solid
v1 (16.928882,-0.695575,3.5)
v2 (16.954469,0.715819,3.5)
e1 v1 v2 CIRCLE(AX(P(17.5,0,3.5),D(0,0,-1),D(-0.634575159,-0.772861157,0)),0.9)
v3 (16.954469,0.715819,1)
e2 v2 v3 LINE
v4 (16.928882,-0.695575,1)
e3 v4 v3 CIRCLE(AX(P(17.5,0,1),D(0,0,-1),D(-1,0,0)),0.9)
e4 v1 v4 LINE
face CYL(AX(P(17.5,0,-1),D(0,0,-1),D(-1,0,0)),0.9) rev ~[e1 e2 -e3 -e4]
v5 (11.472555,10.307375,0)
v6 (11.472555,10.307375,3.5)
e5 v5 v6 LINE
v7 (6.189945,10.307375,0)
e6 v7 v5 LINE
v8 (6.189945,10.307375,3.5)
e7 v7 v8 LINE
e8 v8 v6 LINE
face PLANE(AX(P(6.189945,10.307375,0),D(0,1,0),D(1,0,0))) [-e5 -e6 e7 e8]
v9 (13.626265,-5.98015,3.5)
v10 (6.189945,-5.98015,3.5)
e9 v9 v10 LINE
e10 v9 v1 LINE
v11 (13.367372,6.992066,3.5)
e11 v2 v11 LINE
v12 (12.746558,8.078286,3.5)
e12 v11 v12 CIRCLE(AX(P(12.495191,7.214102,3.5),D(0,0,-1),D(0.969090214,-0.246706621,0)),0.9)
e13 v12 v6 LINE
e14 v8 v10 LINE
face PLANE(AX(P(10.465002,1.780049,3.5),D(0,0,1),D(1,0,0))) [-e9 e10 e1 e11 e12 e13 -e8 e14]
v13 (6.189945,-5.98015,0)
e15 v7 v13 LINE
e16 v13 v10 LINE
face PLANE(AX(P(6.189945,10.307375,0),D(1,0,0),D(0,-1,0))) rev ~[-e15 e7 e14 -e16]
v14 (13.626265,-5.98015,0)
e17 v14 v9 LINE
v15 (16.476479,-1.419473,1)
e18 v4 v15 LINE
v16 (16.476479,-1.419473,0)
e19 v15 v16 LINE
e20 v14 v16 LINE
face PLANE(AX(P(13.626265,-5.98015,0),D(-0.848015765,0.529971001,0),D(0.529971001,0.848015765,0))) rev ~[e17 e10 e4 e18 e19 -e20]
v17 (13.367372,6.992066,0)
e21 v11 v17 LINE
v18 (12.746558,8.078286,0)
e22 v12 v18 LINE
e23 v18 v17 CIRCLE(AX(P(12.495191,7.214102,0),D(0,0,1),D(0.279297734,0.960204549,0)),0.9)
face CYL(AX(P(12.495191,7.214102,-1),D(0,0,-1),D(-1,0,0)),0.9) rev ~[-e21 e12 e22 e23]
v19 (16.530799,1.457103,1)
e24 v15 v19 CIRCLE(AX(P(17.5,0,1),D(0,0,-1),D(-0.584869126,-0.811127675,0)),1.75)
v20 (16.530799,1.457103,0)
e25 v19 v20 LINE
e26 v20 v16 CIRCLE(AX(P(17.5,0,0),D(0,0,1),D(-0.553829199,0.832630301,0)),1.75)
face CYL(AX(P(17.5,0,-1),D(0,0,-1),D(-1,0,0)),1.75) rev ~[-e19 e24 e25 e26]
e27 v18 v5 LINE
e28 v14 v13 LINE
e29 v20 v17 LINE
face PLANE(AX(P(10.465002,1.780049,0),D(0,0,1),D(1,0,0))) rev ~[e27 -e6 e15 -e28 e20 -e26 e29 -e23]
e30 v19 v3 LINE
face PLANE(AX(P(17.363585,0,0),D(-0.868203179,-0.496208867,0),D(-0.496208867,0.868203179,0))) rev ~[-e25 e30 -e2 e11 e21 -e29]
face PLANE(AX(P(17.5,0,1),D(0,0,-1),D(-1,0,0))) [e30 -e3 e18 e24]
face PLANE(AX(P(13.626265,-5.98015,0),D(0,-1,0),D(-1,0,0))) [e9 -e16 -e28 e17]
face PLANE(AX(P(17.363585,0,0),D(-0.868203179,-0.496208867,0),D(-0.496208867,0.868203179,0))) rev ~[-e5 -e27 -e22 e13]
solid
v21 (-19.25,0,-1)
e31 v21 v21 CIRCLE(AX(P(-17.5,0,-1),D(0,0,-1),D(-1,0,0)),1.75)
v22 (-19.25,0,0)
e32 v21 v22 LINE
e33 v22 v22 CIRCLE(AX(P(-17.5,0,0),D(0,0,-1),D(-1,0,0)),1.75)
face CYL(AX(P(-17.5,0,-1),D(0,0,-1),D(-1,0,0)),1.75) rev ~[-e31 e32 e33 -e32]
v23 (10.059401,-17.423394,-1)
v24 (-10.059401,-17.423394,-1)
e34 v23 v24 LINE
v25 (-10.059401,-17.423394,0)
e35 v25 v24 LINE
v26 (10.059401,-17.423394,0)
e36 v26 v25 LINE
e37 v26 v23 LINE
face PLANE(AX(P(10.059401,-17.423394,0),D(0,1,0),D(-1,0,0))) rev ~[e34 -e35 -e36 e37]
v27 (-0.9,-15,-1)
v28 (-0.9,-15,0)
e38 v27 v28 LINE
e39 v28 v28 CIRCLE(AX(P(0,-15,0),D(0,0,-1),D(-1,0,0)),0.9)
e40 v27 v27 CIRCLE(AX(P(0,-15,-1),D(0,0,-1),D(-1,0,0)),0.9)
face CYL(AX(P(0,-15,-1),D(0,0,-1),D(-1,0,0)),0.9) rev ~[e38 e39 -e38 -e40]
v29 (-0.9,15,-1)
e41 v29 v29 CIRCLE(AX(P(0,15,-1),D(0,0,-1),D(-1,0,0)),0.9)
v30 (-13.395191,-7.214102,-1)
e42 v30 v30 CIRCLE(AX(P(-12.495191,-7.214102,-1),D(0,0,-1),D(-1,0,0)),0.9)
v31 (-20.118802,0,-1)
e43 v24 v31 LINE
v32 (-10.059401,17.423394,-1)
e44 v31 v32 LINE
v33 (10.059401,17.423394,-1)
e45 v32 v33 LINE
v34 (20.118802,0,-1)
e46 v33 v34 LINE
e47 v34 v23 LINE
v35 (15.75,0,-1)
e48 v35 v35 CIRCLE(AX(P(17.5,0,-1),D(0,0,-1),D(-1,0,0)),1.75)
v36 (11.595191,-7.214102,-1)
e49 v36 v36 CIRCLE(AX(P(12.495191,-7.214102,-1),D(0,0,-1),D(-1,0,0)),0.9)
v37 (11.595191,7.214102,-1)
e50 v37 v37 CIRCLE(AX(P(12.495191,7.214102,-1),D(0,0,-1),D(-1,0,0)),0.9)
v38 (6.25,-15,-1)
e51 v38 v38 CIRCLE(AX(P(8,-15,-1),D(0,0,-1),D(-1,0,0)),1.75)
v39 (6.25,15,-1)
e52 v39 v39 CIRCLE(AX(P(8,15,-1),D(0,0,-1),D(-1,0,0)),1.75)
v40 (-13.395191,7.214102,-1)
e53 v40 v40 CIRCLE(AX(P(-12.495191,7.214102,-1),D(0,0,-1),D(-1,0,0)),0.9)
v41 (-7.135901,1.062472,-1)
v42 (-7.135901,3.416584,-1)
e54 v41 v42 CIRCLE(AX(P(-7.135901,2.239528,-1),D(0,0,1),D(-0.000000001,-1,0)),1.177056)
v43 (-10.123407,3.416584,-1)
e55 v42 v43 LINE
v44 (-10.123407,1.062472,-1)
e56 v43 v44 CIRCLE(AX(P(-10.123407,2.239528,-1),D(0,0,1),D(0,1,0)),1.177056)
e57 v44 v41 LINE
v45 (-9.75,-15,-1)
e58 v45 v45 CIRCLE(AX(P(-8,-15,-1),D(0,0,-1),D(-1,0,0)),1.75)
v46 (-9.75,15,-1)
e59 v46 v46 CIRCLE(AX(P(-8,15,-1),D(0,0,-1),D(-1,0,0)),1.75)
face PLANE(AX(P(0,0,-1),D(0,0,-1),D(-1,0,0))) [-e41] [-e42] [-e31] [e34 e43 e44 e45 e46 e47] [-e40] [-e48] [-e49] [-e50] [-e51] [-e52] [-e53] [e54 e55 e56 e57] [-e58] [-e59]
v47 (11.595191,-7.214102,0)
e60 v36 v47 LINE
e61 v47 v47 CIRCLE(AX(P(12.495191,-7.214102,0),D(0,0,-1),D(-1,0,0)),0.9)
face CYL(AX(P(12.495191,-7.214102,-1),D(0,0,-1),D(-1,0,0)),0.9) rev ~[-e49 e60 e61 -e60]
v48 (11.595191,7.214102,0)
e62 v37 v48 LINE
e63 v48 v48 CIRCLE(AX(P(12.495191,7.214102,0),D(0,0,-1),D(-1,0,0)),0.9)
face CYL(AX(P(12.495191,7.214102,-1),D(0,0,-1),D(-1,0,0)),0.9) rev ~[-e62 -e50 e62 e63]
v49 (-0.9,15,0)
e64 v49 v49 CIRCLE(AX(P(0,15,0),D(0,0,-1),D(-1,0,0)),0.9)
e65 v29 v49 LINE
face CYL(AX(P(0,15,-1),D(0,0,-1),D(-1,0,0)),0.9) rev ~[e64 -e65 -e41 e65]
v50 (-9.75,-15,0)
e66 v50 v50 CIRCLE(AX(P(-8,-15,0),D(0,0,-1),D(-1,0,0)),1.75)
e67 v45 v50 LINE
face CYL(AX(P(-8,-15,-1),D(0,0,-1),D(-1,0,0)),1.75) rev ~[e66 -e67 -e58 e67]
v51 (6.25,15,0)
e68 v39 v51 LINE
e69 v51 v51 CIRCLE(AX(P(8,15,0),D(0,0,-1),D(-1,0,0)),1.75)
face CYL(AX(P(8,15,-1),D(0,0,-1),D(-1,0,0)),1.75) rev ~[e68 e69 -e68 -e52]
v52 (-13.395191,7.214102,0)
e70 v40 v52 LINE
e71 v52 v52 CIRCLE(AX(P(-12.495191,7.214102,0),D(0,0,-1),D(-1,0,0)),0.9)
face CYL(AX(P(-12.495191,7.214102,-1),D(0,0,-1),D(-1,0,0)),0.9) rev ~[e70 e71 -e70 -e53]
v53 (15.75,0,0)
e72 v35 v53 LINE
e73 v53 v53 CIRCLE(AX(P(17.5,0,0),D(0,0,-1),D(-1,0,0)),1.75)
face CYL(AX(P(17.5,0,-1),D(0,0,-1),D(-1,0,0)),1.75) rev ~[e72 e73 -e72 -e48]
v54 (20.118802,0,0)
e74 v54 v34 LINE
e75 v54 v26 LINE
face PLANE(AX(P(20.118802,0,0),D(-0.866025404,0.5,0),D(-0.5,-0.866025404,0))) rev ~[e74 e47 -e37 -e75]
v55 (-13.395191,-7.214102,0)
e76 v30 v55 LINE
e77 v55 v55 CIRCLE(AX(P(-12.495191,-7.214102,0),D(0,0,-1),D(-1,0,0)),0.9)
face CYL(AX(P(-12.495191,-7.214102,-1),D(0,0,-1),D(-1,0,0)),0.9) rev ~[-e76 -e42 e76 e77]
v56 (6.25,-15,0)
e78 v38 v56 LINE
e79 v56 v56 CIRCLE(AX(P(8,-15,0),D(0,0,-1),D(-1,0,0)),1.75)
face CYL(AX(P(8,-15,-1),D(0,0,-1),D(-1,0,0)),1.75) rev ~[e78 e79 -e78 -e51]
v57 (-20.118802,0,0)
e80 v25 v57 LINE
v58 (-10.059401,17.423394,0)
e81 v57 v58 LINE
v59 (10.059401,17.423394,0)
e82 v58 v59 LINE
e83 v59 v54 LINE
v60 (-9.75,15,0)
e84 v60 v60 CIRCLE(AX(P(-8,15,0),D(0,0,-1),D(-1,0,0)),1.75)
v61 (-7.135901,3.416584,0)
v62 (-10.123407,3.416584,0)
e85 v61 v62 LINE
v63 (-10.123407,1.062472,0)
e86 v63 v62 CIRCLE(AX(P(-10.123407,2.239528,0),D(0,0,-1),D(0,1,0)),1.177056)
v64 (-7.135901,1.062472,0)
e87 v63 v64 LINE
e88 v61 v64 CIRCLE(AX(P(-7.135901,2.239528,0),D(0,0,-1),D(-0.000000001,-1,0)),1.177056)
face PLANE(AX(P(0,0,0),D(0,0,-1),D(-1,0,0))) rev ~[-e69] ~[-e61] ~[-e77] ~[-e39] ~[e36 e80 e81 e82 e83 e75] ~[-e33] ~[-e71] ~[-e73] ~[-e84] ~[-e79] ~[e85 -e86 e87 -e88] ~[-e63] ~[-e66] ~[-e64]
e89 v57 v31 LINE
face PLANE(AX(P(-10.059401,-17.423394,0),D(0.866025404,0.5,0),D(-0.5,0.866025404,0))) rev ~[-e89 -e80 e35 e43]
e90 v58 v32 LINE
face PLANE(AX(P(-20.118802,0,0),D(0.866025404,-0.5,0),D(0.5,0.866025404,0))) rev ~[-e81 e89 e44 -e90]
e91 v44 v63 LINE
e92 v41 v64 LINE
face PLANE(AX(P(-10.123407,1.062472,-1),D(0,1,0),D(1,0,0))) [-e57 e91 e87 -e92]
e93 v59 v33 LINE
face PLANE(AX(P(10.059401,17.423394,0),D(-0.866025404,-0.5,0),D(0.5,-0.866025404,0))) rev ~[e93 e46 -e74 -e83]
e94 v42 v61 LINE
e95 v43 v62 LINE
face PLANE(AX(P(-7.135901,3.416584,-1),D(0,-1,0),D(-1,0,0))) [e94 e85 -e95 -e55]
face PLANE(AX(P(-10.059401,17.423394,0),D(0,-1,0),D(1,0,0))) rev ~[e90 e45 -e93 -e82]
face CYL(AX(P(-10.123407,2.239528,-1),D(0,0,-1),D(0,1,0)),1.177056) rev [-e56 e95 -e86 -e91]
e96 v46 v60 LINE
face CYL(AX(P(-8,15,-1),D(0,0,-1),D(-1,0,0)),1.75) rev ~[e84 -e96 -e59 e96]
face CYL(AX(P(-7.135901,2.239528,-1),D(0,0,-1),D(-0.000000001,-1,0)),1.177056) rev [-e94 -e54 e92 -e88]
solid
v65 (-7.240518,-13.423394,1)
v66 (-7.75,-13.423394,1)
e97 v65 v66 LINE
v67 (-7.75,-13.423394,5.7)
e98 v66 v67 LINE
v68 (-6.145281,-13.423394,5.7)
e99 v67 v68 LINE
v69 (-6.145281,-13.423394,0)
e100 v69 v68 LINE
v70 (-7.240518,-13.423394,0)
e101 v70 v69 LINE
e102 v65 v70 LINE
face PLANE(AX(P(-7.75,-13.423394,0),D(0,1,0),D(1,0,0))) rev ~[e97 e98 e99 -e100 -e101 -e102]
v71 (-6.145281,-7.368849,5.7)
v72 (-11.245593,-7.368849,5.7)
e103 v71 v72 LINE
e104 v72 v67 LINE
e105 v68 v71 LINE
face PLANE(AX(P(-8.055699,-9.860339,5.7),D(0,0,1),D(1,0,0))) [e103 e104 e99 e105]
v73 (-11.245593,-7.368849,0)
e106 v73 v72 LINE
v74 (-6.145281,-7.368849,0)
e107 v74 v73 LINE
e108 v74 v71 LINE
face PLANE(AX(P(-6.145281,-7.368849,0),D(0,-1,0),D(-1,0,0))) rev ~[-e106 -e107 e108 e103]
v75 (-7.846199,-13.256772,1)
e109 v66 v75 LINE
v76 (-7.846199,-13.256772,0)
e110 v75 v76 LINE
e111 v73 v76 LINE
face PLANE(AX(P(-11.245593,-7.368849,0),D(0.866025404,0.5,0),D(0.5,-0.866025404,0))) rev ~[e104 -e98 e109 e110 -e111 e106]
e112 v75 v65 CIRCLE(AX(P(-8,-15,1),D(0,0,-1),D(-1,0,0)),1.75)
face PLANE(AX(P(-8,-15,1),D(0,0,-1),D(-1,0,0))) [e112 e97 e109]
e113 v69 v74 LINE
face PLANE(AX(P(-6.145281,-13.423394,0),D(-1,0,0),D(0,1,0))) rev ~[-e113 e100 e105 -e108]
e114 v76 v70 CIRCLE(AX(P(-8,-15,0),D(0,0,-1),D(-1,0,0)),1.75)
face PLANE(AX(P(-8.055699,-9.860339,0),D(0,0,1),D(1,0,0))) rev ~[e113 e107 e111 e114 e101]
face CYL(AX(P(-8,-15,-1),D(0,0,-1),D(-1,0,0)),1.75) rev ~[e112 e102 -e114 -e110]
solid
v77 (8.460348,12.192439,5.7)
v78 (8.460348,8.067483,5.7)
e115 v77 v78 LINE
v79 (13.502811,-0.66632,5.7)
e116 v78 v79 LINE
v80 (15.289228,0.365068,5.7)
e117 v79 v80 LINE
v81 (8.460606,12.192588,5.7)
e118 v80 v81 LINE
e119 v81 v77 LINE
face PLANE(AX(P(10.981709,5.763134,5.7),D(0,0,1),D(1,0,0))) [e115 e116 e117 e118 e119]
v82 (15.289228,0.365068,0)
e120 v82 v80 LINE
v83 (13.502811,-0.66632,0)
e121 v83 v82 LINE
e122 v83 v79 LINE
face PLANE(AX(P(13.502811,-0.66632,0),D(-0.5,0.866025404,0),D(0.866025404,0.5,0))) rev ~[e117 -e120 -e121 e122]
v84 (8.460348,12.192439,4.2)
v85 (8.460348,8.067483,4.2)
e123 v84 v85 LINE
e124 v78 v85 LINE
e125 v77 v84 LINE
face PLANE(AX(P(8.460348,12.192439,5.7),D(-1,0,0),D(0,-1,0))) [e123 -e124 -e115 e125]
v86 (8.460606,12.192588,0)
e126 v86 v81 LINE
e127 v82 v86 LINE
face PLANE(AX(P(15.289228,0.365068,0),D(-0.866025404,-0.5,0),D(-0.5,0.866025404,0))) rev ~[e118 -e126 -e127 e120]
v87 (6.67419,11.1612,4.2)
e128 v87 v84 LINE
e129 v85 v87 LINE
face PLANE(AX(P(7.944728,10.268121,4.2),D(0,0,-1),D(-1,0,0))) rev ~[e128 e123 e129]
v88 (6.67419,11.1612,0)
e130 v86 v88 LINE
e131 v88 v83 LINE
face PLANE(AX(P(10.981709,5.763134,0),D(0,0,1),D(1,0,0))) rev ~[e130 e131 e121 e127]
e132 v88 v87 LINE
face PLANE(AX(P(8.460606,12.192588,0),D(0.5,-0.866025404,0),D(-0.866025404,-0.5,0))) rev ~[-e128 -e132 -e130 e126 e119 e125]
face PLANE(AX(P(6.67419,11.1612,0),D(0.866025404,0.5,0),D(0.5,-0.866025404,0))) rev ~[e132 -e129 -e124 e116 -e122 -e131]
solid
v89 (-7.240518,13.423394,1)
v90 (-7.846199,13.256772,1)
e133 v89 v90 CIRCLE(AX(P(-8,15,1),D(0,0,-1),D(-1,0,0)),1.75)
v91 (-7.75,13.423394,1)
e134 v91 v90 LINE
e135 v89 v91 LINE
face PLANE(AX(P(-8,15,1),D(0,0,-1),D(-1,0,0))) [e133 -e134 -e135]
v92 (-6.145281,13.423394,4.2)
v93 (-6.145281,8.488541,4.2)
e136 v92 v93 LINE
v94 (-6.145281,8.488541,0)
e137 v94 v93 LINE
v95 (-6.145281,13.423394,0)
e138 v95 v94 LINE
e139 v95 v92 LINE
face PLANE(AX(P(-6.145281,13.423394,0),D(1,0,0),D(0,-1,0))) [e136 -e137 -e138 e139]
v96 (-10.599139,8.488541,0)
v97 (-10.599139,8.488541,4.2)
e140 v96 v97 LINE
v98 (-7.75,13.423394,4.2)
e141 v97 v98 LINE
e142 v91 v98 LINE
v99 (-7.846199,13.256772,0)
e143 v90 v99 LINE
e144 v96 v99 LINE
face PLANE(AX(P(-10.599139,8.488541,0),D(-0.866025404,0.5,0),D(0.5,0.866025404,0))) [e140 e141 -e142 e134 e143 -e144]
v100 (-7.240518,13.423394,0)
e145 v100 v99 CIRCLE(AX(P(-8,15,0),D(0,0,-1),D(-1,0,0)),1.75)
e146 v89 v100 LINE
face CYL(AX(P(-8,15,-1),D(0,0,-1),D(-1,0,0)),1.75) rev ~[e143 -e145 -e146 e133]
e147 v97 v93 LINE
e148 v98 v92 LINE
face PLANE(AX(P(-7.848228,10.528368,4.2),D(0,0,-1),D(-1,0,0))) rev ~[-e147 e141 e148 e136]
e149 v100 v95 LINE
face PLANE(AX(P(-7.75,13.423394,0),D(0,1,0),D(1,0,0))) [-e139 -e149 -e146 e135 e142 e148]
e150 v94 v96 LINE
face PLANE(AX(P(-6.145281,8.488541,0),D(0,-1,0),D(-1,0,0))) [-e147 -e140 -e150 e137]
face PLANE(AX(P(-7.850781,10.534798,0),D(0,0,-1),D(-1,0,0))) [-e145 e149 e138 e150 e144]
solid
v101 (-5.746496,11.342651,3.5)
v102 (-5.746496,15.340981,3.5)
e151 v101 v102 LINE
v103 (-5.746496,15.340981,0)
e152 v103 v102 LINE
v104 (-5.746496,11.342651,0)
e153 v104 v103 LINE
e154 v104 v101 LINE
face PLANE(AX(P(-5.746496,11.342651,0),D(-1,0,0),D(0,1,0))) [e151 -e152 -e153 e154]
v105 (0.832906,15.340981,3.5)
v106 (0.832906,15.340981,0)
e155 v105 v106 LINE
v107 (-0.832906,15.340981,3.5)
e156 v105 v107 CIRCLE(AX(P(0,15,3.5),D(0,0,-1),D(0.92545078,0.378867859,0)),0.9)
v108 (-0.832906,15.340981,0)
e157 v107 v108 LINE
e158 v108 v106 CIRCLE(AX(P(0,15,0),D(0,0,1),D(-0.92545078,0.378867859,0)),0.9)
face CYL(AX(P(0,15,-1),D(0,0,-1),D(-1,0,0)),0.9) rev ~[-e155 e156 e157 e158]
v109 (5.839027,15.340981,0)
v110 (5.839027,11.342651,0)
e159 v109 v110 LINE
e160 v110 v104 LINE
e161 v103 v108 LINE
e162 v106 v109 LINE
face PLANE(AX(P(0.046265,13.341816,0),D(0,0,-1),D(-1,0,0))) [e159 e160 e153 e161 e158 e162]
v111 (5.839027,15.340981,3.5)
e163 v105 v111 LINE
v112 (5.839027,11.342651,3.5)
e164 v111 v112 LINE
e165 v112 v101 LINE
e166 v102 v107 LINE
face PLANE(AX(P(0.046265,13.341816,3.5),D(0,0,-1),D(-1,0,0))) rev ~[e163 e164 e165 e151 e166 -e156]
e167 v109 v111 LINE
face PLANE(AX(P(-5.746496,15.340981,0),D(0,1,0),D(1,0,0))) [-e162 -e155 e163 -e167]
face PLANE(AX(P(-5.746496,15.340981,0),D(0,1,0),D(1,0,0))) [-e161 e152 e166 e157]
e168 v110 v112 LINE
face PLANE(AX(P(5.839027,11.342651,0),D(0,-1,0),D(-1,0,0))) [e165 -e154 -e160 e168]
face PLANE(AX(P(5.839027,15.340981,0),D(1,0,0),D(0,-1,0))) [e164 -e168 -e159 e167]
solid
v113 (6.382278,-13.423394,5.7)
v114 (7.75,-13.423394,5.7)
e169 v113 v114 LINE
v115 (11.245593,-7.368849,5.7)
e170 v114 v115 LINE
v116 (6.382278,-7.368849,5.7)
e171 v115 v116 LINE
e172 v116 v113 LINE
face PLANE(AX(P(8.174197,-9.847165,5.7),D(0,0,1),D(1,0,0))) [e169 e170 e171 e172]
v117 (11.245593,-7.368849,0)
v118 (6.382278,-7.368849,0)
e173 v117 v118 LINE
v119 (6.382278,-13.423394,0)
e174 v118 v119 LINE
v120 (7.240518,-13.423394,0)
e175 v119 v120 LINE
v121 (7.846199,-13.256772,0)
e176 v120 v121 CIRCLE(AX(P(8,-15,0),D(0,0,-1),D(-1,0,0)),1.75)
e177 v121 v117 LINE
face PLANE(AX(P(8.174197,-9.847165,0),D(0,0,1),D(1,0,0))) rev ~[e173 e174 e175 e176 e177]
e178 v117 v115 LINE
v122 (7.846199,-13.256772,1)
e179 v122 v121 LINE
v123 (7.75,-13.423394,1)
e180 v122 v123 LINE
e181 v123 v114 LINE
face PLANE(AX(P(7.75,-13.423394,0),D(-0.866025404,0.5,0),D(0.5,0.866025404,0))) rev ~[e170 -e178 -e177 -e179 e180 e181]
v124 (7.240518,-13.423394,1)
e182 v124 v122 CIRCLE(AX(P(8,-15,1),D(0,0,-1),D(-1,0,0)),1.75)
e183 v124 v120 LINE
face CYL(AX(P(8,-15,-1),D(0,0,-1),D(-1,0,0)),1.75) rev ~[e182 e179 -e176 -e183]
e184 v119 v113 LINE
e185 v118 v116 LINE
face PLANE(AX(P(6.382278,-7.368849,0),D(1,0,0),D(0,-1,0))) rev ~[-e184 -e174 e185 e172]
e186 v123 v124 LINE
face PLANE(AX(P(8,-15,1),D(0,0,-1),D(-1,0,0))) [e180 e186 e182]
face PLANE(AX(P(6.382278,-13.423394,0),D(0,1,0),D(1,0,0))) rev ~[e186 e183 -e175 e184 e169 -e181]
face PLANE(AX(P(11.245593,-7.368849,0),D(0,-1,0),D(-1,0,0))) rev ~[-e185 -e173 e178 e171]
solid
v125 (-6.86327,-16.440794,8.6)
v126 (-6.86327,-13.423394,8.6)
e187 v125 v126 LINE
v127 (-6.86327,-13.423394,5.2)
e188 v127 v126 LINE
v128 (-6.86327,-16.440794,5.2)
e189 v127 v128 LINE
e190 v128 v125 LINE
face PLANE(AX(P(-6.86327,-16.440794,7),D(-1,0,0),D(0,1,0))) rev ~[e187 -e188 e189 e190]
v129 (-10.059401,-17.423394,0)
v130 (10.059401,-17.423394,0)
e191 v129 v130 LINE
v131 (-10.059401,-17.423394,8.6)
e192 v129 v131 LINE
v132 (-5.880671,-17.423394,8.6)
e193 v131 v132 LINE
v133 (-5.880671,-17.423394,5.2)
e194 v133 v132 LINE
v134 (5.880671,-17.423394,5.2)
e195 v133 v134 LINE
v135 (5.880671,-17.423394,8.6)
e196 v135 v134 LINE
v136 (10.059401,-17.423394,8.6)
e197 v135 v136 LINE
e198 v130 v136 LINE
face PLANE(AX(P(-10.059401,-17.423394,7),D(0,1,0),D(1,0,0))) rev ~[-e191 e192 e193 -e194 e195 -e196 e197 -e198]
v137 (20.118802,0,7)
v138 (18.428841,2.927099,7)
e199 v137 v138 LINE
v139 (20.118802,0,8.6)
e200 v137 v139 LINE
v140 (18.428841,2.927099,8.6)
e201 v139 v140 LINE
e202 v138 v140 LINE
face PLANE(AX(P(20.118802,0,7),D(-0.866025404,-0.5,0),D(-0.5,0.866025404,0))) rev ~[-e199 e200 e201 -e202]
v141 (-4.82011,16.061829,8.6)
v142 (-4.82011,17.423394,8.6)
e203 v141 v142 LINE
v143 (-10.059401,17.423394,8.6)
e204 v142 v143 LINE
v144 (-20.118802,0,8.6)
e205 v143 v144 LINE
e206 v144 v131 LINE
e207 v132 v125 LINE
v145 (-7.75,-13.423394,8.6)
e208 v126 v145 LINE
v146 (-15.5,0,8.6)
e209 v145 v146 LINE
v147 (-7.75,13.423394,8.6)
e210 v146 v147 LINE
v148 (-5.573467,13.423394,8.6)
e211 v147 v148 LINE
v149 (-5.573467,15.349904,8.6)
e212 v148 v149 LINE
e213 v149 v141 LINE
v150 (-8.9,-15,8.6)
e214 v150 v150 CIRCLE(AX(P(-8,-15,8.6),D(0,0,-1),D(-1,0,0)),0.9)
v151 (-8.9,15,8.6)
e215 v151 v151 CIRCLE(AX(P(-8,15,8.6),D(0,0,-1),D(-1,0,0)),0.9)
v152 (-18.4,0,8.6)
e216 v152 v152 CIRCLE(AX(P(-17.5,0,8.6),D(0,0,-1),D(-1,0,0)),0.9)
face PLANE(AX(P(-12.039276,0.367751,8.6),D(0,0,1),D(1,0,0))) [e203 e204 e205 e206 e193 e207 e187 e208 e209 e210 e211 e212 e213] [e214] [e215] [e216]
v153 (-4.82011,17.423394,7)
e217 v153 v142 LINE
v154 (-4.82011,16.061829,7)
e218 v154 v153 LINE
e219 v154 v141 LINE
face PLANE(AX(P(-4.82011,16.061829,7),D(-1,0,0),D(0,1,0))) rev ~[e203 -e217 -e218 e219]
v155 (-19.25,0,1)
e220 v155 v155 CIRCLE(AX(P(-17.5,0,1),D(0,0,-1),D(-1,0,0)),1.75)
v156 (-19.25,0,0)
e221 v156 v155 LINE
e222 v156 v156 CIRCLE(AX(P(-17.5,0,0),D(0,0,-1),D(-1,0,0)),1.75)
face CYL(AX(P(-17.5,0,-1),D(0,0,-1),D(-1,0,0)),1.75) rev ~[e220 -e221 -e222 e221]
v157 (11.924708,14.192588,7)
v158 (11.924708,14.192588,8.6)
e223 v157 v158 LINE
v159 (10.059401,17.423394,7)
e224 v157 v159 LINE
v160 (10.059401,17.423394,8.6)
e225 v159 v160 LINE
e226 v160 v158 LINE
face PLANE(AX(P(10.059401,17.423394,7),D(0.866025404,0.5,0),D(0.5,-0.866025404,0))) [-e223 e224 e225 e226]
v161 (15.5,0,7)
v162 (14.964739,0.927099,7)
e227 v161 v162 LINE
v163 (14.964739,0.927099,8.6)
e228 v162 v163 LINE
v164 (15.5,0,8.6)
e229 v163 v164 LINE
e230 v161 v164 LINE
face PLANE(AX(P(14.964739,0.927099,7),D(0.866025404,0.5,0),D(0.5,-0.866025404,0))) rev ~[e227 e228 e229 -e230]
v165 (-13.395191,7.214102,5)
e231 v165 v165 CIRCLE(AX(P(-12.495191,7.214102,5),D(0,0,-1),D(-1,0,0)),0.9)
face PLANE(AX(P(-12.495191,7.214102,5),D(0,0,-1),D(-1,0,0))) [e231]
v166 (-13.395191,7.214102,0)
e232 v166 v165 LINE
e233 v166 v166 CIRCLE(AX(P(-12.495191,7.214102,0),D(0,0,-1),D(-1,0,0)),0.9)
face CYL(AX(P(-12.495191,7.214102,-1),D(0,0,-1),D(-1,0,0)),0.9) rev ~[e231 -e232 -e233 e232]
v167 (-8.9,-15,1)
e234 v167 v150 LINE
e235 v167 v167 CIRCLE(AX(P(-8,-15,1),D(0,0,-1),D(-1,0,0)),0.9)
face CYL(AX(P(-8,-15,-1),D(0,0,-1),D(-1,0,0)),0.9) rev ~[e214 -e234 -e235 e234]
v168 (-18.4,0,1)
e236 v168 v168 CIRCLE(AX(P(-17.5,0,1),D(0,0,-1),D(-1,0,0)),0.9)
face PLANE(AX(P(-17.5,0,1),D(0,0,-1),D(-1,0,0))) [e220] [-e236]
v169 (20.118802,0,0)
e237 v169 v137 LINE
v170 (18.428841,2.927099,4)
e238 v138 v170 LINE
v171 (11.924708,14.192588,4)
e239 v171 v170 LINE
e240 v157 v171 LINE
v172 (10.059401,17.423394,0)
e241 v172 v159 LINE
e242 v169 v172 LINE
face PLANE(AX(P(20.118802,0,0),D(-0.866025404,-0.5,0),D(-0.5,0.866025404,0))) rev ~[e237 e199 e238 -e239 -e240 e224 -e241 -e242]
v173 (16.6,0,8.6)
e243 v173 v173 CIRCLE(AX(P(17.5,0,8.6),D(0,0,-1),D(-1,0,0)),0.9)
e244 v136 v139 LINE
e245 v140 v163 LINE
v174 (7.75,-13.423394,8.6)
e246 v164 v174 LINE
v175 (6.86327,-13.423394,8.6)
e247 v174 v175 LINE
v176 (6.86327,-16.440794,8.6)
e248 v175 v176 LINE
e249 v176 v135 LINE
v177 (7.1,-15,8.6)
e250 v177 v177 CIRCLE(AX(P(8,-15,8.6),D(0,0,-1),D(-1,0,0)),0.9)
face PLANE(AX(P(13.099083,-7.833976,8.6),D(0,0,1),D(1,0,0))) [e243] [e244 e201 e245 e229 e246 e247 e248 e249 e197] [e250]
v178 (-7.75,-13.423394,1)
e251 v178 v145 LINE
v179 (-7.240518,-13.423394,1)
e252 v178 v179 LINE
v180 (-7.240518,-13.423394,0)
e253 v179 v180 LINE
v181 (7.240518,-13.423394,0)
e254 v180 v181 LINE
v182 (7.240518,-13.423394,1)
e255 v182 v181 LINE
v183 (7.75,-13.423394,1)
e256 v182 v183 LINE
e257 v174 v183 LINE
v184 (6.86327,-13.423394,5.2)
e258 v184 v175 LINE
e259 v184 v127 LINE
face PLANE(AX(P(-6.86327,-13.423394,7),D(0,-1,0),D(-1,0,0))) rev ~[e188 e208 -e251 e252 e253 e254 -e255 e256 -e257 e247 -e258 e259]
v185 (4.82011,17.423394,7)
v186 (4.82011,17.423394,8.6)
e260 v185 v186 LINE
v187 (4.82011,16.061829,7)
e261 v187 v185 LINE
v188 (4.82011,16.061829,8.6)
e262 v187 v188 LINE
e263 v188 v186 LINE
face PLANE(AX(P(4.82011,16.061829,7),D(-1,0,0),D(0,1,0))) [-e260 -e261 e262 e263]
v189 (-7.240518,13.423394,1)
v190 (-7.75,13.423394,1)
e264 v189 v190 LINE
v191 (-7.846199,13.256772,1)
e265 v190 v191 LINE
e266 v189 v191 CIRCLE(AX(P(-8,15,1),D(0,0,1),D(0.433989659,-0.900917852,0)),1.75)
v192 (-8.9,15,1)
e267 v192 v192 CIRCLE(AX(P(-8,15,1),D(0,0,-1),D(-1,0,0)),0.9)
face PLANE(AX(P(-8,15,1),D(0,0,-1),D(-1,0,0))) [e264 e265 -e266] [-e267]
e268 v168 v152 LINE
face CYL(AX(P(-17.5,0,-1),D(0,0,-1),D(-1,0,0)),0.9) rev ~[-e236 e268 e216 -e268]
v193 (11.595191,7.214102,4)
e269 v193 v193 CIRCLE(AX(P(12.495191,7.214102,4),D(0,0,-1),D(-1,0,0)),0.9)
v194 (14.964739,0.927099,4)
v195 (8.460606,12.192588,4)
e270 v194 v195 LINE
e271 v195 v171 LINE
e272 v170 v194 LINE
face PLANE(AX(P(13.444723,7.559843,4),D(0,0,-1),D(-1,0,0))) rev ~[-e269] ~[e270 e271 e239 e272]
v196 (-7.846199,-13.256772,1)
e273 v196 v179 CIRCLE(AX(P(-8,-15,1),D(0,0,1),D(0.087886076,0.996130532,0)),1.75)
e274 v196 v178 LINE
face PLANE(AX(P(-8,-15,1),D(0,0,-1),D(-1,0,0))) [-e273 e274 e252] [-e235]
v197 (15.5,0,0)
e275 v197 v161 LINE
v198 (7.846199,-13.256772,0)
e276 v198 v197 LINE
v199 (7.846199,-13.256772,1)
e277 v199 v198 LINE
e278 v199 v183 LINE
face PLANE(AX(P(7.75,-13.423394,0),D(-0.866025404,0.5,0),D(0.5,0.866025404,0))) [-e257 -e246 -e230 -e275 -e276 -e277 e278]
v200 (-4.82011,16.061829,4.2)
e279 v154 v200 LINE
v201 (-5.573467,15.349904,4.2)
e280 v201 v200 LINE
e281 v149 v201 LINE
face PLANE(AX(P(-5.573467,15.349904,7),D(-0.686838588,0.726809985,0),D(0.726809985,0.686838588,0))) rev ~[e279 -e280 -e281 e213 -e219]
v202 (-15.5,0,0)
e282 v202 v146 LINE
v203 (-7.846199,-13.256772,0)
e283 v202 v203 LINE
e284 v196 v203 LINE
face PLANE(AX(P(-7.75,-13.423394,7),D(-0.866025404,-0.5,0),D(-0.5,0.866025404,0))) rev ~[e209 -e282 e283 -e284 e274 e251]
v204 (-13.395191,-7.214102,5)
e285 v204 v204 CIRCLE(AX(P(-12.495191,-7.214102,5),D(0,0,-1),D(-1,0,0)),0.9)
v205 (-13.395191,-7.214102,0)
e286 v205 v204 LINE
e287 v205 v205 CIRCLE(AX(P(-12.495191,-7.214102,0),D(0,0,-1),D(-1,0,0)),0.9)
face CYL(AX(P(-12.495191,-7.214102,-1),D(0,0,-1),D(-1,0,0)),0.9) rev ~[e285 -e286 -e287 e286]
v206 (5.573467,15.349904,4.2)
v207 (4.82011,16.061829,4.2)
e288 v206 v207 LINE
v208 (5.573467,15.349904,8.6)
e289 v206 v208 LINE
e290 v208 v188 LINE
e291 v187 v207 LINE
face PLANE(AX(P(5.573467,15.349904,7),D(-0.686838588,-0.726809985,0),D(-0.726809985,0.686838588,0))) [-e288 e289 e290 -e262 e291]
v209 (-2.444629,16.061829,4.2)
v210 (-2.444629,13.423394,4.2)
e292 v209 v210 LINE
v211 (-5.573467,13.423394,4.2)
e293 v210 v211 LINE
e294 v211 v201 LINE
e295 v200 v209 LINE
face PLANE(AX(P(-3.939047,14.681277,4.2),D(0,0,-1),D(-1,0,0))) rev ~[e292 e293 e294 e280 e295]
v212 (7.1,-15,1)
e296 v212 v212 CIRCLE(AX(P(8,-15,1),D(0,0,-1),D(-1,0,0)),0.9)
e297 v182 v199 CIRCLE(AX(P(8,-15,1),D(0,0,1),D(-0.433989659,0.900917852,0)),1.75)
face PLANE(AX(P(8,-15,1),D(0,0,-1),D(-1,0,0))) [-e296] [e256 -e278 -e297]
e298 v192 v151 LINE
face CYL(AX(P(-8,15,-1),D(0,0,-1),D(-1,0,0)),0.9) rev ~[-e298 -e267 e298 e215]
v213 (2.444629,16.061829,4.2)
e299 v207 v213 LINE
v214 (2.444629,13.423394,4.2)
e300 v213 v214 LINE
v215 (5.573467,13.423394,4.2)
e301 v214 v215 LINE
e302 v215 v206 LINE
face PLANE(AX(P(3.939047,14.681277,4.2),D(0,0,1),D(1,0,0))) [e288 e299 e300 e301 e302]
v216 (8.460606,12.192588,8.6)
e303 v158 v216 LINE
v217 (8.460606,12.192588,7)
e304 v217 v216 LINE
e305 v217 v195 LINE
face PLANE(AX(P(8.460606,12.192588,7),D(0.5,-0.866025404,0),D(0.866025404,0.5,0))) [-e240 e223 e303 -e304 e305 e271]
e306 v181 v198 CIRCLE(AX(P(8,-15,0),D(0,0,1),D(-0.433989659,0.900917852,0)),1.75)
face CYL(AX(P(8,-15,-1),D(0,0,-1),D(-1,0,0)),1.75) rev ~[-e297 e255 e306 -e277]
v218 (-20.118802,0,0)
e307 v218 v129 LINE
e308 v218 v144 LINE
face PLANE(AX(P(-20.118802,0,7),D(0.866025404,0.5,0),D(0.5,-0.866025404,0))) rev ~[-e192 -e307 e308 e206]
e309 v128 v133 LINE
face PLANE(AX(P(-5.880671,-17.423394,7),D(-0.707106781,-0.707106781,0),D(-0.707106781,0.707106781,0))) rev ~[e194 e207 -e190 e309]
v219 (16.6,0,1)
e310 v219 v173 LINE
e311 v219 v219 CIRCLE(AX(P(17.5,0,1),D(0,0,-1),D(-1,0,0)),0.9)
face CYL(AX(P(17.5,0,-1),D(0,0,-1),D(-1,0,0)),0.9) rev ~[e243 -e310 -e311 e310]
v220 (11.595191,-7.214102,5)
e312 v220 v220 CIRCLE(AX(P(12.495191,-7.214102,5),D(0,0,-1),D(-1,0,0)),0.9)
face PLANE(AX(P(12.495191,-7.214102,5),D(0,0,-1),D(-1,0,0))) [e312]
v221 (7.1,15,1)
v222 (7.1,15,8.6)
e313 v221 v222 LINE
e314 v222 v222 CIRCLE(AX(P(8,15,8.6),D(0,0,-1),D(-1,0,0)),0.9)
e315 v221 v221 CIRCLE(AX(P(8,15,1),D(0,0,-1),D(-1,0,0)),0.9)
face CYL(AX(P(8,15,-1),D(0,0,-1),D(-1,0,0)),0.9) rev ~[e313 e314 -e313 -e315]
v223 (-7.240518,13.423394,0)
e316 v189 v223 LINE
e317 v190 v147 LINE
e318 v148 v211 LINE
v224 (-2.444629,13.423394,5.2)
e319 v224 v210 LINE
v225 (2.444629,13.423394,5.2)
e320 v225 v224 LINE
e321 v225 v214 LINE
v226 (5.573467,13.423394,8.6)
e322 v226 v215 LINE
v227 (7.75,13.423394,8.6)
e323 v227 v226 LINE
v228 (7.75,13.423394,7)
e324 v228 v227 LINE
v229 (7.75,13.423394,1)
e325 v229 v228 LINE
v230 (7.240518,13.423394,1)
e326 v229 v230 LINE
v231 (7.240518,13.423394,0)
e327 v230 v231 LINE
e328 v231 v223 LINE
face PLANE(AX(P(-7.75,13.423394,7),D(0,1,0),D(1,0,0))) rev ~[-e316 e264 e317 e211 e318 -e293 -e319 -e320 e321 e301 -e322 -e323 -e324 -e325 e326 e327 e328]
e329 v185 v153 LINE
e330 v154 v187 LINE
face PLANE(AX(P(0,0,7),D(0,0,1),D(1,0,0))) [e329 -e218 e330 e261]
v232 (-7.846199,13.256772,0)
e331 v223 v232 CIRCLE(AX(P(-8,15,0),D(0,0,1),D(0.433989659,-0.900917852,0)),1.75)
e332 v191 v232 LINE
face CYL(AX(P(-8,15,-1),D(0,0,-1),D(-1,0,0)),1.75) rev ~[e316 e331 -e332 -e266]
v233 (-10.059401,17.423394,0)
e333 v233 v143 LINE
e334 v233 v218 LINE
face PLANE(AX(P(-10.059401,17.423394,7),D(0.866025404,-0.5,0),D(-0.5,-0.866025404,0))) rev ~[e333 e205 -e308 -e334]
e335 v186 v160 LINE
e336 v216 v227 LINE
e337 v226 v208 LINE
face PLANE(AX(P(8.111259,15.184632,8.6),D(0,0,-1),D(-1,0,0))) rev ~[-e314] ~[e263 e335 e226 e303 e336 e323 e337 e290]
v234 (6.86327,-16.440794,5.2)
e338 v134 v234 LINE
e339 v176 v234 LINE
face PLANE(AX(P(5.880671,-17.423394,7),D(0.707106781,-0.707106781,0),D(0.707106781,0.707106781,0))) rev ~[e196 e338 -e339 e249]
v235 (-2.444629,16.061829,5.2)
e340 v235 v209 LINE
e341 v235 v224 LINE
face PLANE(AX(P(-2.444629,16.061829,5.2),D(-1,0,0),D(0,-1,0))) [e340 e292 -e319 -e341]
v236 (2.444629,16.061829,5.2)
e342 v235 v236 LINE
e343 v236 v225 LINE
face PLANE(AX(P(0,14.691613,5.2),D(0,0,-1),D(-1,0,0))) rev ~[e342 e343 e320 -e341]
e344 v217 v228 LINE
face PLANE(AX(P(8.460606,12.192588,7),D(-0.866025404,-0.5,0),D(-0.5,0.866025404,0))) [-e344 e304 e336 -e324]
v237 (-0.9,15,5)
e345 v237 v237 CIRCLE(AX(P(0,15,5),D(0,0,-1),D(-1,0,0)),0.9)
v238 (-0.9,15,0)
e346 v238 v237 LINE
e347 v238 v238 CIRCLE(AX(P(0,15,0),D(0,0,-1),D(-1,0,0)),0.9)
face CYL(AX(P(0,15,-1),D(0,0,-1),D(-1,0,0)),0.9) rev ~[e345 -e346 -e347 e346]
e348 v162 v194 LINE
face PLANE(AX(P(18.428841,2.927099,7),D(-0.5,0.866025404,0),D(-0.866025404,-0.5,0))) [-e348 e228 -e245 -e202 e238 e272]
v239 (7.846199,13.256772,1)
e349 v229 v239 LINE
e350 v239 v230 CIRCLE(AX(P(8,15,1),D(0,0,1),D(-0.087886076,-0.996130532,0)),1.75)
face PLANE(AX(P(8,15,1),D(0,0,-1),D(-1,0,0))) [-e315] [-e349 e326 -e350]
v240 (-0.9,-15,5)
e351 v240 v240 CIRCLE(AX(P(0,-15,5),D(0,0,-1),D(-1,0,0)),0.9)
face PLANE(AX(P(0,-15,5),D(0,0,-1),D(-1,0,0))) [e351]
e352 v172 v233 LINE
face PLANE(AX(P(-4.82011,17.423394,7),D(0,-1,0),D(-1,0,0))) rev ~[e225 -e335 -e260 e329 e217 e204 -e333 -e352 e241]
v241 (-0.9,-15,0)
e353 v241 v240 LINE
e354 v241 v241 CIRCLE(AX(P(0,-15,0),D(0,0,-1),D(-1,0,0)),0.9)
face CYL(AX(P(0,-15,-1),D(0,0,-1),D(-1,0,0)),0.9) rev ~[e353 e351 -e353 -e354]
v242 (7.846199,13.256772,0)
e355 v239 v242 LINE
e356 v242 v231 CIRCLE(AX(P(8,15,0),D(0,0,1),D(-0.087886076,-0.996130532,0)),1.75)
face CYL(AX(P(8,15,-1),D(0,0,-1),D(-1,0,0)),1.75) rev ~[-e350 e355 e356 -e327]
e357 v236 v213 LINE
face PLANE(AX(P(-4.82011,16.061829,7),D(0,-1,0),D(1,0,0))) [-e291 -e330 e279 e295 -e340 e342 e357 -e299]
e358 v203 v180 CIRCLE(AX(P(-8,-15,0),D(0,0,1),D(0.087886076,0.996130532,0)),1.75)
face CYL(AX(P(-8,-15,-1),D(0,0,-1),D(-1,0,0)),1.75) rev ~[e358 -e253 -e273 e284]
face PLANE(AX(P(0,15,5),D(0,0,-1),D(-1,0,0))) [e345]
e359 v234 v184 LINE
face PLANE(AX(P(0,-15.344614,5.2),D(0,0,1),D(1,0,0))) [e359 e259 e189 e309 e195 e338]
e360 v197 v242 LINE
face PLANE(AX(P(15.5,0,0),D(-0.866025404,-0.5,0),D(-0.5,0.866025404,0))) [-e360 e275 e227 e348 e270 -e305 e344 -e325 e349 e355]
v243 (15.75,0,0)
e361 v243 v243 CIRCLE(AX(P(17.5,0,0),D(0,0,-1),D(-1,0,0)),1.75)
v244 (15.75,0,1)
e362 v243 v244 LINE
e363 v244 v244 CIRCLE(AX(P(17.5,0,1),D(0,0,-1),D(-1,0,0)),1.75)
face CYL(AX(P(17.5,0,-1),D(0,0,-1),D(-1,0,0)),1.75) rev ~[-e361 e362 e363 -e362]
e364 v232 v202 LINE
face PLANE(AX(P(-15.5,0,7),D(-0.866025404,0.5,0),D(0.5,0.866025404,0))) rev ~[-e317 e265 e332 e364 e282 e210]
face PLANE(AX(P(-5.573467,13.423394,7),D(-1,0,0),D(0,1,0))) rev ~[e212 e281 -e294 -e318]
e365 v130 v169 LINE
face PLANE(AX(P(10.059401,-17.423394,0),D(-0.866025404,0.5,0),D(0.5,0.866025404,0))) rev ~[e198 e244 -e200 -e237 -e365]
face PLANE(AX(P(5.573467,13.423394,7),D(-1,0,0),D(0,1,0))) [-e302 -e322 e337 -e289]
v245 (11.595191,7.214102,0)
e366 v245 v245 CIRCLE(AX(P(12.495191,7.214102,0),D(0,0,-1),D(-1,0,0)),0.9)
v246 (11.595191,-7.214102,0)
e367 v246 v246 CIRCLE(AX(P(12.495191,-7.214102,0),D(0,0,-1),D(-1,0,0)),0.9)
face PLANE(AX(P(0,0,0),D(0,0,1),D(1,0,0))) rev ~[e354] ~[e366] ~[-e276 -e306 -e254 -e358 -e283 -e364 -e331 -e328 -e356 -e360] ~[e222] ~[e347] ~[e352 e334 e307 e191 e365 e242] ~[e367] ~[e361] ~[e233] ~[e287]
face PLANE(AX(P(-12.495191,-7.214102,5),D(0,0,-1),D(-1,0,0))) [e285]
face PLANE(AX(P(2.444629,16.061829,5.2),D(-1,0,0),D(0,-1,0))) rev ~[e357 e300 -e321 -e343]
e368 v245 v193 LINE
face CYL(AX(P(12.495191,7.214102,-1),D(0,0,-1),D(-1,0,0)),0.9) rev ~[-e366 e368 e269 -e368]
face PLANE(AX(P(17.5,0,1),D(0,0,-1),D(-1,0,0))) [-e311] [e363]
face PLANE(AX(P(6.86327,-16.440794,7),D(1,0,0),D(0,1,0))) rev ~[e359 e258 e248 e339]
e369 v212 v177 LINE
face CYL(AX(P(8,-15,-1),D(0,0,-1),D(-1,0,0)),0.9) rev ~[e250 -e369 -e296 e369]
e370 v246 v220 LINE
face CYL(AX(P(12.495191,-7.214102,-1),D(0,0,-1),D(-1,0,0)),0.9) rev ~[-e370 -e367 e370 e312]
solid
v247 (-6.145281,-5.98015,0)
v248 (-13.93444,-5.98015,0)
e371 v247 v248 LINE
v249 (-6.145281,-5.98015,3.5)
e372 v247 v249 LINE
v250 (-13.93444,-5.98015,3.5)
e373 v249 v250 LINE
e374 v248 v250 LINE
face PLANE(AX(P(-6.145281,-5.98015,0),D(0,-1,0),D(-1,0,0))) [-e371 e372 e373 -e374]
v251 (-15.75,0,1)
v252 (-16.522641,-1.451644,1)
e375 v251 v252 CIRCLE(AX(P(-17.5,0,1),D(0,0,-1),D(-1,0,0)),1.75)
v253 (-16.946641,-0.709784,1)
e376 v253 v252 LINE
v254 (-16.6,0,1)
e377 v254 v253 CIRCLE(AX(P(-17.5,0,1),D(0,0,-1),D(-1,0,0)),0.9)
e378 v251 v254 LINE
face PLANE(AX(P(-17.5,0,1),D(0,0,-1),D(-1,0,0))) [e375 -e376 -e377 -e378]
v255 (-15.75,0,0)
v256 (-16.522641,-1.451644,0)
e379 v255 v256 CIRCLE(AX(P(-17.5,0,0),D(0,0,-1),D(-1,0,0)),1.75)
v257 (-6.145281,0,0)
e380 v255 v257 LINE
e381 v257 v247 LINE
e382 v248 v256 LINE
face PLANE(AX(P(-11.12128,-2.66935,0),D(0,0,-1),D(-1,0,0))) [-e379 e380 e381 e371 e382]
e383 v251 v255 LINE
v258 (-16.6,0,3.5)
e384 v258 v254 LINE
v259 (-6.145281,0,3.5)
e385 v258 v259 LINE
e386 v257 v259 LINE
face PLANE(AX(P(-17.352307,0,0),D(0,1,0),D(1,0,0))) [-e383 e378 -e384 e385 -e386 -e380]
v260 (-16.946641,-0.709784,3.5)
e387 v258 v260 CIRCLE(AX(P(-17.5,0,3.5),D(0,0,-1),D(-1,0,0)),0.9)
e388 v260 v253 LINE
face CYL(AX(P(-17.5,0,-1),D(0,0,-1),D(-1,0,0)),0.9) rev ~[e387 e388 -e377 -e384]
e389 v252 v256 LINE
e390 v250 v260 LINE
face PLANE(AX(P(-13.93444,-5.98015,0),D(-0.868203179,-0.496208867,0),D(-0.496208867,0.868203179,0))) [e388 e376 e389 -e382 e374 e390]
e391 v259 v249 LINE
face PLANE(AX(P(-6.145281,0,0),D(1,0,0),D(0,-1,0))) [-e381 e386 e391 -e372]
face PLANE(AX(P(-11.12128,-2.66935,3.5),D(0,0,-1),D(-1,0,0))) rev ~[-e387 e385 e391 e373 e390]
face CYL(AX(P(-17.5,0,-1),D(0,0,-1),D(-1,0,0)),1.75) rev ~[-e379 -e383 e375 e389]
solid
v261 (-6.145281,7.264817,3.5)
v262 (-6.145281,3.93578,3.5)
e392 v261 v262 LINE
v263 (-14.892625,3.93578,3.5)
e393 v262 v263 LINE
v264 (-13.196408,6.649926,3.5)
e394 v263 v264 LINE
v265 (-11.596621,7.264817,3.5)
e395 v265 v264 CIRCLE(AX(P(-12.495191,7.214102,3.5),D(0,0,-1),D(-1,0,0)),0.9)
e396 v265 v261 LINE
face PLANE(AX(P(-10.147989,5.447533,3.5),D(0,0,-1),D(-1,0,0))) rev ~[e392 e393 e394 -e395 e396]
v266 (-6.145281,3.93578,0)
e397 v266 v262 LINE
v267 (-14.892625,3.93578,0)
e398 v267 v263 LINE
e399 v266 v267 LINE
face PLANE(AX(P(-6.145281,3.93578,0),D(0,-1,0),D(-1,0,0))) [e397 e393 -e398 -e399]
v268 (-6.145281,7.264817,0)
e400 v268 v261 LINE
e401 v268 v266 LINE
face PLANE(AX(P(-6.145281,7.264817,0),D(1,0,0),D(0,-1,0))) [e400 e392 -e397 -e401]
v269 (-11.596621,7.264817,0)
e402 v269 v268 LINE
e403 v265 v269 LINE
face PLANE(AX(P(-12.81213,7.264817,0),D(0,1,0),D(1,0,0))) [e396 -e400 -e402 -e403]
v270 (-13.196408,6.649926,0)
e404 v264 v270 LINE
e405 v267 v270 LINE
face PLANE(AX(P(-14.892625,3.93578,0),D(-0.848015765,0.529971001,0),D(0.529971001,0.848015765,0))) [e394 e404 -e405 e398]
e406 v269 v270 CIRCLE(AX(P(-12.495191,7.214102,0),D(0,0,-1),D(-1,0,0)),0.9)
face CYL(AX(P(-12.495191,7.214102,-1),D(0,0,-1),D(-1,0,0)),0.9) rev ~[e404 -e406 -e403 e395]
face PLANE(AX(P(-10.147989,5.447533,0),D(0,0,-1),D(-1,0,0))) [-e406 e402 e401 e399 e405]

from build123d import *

# Parameters (mm, degrees)
EXTRUDE_1_DEPTH     = 7
CUT_EXTRUDE_1_DEPTH = 1.8
CUT_EXTRUDE_2_DEPTH = 3
EXTRUDE_4_DEPTH     = 5.7
EXTRUDE_4_2_DEPTH   = 5.7
EXTRUDE_4_3_DEPTH   = 5.7
EXTRUDE_4_4_DEPTH   = 5.7
EXTRUDE_21_DEPTH    = 3.5
EXTRUDE_21_2_DEPTH  = 3.5
EXTRUDE_21_3_DEPTH  = 3.5
EXTRUDE_21_4_DEPTH  = 3.5
EXTRUDE_22_DEPTH    = 1
CUT_EXTRUDE_3_DEPTH = 10
CUT_EXTRUDE_4_DEPTH = 1.5
CUT_EXTRUDE_5_DEPTH = 1
EXTRUDE_23_DEPTH    = 1.6
SKETCH_17_R         = 0.9
CUT_EXTRUDE_6_DEPTH = 20
SKETCH_19_R         = 1.75
CUT_EXTRUDE_7_DEPTH = 2
SKETCH_20_R         = 0.9
CUT_EXTRUDE_8_DEPTH = 6


with BuildPart() as part:
    # 草图1 → 凸台-拉伸1 (new body)
    with BuildSketch(Plane.XY):
        Polygon((10.059401077, 17.423393759), (-10.059401077, 17.423393759), (-20.118802154, 0), (-10.059401077, -17.423393759), (10.059401077, -17.423393759), (20.118802154, 0), align=None)
        Polygon((15.5, 0), (7.75, 13.423393759), (-7.75, 13.423393759), (-15.5, 0), (-7.75, -13.423393759), (7.75, -13.423393759), align=None, mode=Mode.SUBTRACT)
    extrude(amount=EXTRUDE_1_DEPTH)

    # 草图2 → 切除-拉伸1 (cut)
    with BuildSketch(Plane.XY.offset(7)):
        Polygon((6.863269886, -16.440794429), (6.863269886, -13.423393759), (-6.863269886, -13.423393759), (-6.863269886, -16.440794429), (-5.880670556, -17.423393759), (5.880670556, -17.423393759), align=None)
        Polygon((-4.820110193, 16.061828693), (4.820110193, 16.061828693), (5.573466666, 15.349903558), (5.573466666, 13.423393759), (-5.573466666, 13.423393759), (-5.573466666, 15.349903558), align=None)
    extrude(amount=-CUT_EXTRUDE_1_DEPTH, mode=Mode.SUBTRACT)

    # 草图3 → 切除-拉伸2 (cut)
    with BuildSketch(Plane.XY.offset(7)):
        Polygon((8.460606166, 12.192587775), (11.924707781, 14.192587775), (18.428840745, 2.927099023), (14.96473913, 0.927099023), align=None)
    extrude(amount=-CUT_EXTRUDE_2_DEPTH, mode=Mode.SUBTRACT)

    # 草图15 → 切除-拉伸5 (cut)
    with BuildSketch(Plane.XY.offset(5.2)):
        Polygon((-2.444629032, 16.061828693), (-2.444629032, 13.423393759), (-5.573466666, 13.423393759), (-5.573466666, 15.349903558), (-4.820110193, 16.061828693), align=None)
        Polygon((4.820110193, 16.061828693), (2.444629032, 16.061828693), (2.444629032, 13.423393759), (5.573466666, 13.423393759), (5.573466666, 15.349903558), align=None)
    extrude(amount=-CUT_EXTRUDE_5_DEPTH, mode=Mode.SUBTRACT)

    # 草图18 → 凸台-拉伸23 (add)
    with BuildSketch(Plane.XY.offset(7)):
        Polygon((-4.820110193, 16.061828693), (-4.820110193, 17.423393759), (-10.059401077, 17.423393759), (-20.118802154, 0), (-10.059401077, -17.423393759), (-5.880670556, -17.423393759), (-6.863269886, -16.440794429), (-6.863269886, -13.423393759), (-7.75, -13.423393759), (-15.5, 0), (-7.75, 13.423393759), (-5.573466666, 13.423393759), (-5.573466666, 15.349903558), align=None)
        Polygon((4.820110193, 16.061828693), (4.820110193, 17.423393759), (10.059401077, 17.423393759), (11.924707781, 14.192587775), (8.460606166, 12.192587775), (7.75, 13.423393759), (5.573466666, 13.423393759), (5.573466666, 15.349903558), align=None)
        Polygon((18.428840745, 2.927099023), (14.96473913, 0.927099023), (15.5, 0), (7.75, -13.423393759), (6.863269886, -13.423393759), (6.863269886, -16.440794429), (5.880670556, -17.423393759), (10.059401077, -17.423393759), (20.118802154, 0), align=None)
    extrude(amount=EXTRUDE_23_DEPTH)


with BuildPart() as body_2:
    # 草图4 → 凸台-拉伸4 (new body)
    with BuildSketch(Plane(origin=(0, 0, 0), x_dir=(-1, 0, 0), z_dir=(0, 0, -1))):
        Polygon((-11.245593136, -7.368848845), (-6.382277748, -7.368848845), (-6.382277748, -13.423393759), (-7.75, -13.423393759), align=None)
    extrude(amount=-EXTRUDE_4_DEPTH)


with BuildPart() as body_3:
    # 草图4 → Extrude 4 2 (new body)
    with BuildSketch(Plane(origin=(0, 0, 0), x_dir=(-1, 0, 0), z_dir=(0, 0, -1))):
        Polygon((6.145280676, -7.368848845), (11.245593136, -7.368848845), (7.75, -13.423393759), (6.145280676, -13.423393759), align=None)
    extrude(amount=-EXTRUDE_4_2_DEPTH)


with BuildPart() as body_4:
    # 草图4 → Extrude 4 3 (new body)
    with BuildSketch(Plane(origin=(0, 0, 0), x_dir=(-1, 0, 0), z_dir=(0, 0, -1))):
        Polygon((6.145280676, 13.423393759), (6.145280676, 8.488540604), (10.599138797, 8.488540604), (7.75, 13.423393759), align=None)
    extrude(amount=-EXTRUDE_4_3_DEPTH)


with BuildPart() as body_5:
    # 草图4 → Extrude 4 4 (new body)
    with BuildSketch(Plane(origin=(0, 0, 0), x_dir=(-1, 0, 0), z_dir=(0, 0, -1))):
        Polygon((-8.460606166, 12.192587775), (-6.674189613, 11.161199697), (-13.502811472, -0.666320308), (-15.289228025, 0.365067769), align=None)
    extrude(amount=-EXTRUDE_4_4_DEPTH)


with BuildPart() as body_6:
    # 草图6 → 凸台-拉伸21 (new body)
    with BuildSketch(Plane(origin=(0, 0, 0), x_dir=(-1, 0, 0), z_dir=(0, 0, -1))):
        Polygon((-7.167145457, 10.307375129), (-6.189945384, 10.307375129), (-6.189945384, -5.980150499), (-12.0473585, -5.980150499), (-13.626264811, -5.980150499), (-17.36358489, 0), (-11.472554935, 10.307375129), (-9.549034195, 10.307375129), align=None)
    extrude(amount=-EXTRUDE_21_DEPTH)


with BuildPart() as body_7:
    # 草图6 → Extrude 21 2 (new body)
    with BuildSketch(Plane(origin=(0, 0, 0), x_dir=(-1, 0, 0), z_dir=(0, 0, -1))):
        Polygon((-5.839026937, 13.423393759), (-5.839026937, 11.342651293), (5.746496449, 11.342651293), (5.746496449, 13.423393759), (5.746496449, 15.340981073), (-5.839026937, 15.340981073), align=None)
    extrude(amount=-EXTRUDE_21_2_DEPTH)


with BuildPart() as body_8:
    # 草图6 → Extrude 21 3 (new body)
    with BuildSketch(Plane(origin=(0, 0, 0), x_dir=(-1, 0, 0), z_dir=(0, 0, -1))):
        Polygon((6.145280676, 7.264816527), (6.145280676, 3.935780446), (14.892625012, 3.935780446), (12.812129983, 7.264816527), align=None)
    extrude(amount=-EXTRUDE_21_3_DEPTH)


with BuildPart() as body_9:
    # 草图6 → Extrude 21 4 (new body)
    with BuildSketch(Plane(origin=(0, 0, 0), x_dir=(-1, 0, 0), z_dir=(0, 0, -1))):
        Polygon((6.145280676, -5.980150499), (12.0473585, -5.980150499), (13.934439655, -5.980150499), (17.352307472, 0), (6.145280676, 0), align=None)
    extrude(amount=-EXTRUDE_21_4_DEPTH)


with BuildPart() as body_10:
    # 草图12 → 凸台-拉伸22 (new body)
    with BuildSketch(Plane(origin=(0, 0, 0), x_dir=(-1, 0, 0), z_dir=(0, 0, -1))):
        Polygon((-10.059401077, 17.423393759), (-20.118802154, 0), (-10.059401077, -17.423393759), (10.059401077, -17.423393759), (20.118802154, 0), (10.059401077, 17.423393759), align=None)
    extrude(amount=EXTRUDE_22_DEPTH)

    # 草图13 → 切除-拉伸3 (cut)
    with BuildSketch(Plane(origin=(0, 0, -1), x_dir=(-1, 0, 0), z_dir=(0, 0, -1))):
        with BuildLine():
            Line((10.123406841, 1.062471913), (7.135900995, 1.062471913))
            ThreePointArc((7.135900995, 1.062471913), (5.95884516, 2.239527747), (7.135900995, 3.416583581))
            Line((7.135900995, 3.416583581), (10.123406841, 3.416583581))
            ThreePointArc((10.123406841, 3.416583581), (11.300462675, 2.239527747), (10.123406841, 1.062471913))
        make_face()
    extrude(amount=-CUT_EXTRUDE_3_DEPTH, mode=Mode.SUBTRACT)


with BuildPart() as cut_extrude_4_tool:
    # 草图14 → 切除-拉伸4 (new body)
    with BuildSketch(Plane.XY.offset(5.7)):
        Polygon((-7.75, 13.423393759), (-6.145280676, 13.423393759), (-6.145280676, 8.463494867), (-10.599138797, 8.488540604), align=None)
        Polygon((8.460347777, 12.192438594), (8.460347777, 8.067483007), (6.674189613, 11.161199697), align=None)
    extrude(amount=-CUT_EXTRUDE_4_DEPTH)


with BuildPart() as body_4_1:
    add(body_4.part)

    # 切除-拉伸4: cut by cut_extrude_4_tool
    add(cut_extrude_4_tool.part, mode=Mode.SUBTRACT)


with BuildPart() as body_5_1:
    add(body_5.part)

    # 切除-拉伸4: cut by cut_extrude_4_tool
    add(cut_extrude_4_tool.part, mode=Mode.SUBTRACT)


with BuildPart() as cut_extrude_6_tool:
    # 草图17 → 切除-拉伸6 (new body)
    with BuildSketch(Plane(origin=(0, 0, -1), x_dir=(-1, 0, 0), z_dir=(0, 0, -1))):
        with Locations((8, 15)):
            Circle(SKETCH_17_R)
        with Locations((8, -15)):
            Circle(SKETCH_17_R)
        with Locations((-8, -15)):
            Circle(SKETCH_17_R)
        with Locations((-8, 15)):
            Circle(SKETCH_17_R)
        with Locations((17.5, 0)):
            Circle(SKETCH_17_R)
        with Locations((-17.5, 0)):
            Circle(SKETCH_17_R)
    extrude(amount=-CUT_EXTRUDE_6_DEPTH)


with BuildPart() as part_1:
    add(part.part)

    # 切除-拉伸6: cut by cut_extrude_6_tool
    add(cut_extrude_6_tool.part, mode=Mode.SUBTRACT)


with BuildPart() as body_6_1:
    add(body_6.part)

    # 切除-拉伸6: cut by cut_extrude_6_tool
    add(cut_extrude_6_tool.part, mode=Mode.SUBTRACT)


with BuildPart() as body_9_1:
    add(body_9.part)

    # 切除-拉伸6: cut by cut_extrude_6_tool
    add(cut_extrude_6_tool.part, mode=Mode.SUBTRACT)


with BuildPart() as body_10_1:
    add(body_10.part)

    # 切除-拉伸6: cut by cut_extrude_6_tool
    add(cut_extrude_6_tool.part, mode=Mode.SUBTRACT)


with BuildPart() as cut_extrude_7_tool:
    # 草图19 → 切除-拉伸7 (new body)
    with BuildSketch(Plane(origin=(0, 0, -1), x_dir=(-1, 0, 0), z_dir=(0, 0, -1))):
        with Locations((-8, 15)):
            Circle(SKETCH_19_R)
        with Locations((-17.5, 0)):
            Circle(SKETCH_19_R)
        with Locations((-8, -15)):
            Circle(SKETCH_19_R)
        with Locations((8, -15)):
            Circle(SKETCH_19_R)
        with Locations((17.5, 0)):
            Circle(SKETCH_19_R)
        with Locations((8, 15)):
            Circle(SKETCH_19_R)
    extrude(amount=-CUT_EXTRUDE_7_DEPTH)


with BuildPart() as part_2:
    add(part_1.part)

    # 切除-拉伸7: cut by cut_extrude_7_tool
    add(cut_extrude_7_tool.part, mode=Mode.SUBTRACT)


with BuildPart() as body_2_1:
    add(body_2.part)

    # 切除-拉伸7: cut by cut_extrude_7_tool
    add(cut_extrude_7_tool.part, mode=Mode.SUBTRACT)


with BuildPart() as body_3_1:
    add(body_3.part)

    # 切除-拉伸7: cut by cut_extrude_7_tool
    add(cut_extrude_7_tool.part, mode=Mode.SUBTRACT)


with BuildPart() as body_4_2:
    add(body_4_1.part)

    # 切除-拉伸7: cut by cut_extrude_7_tool
    add(cut_extrude_7_tool.part, mode=Mode.SUBTRACT)


with BuildPart() as body_6_2:
    add(body_6_1.part)

    # 切除-拉伸7: cut by cut_extrude_7_tool
    add(cut_extrude_7_tool.part, mode=Mode.SUBTRACT)


with BuildPart() as body_9_2:
    add(body_9_1.part)

    # 切除-拉伸7: cut by cut_extrude_7_tool
    add(cut_extrude_7_tool.part, mode=Mode.SUBTRACT)


with BuildPart() as body_10_2:
    add(body_10_1.part)

    # 切除-拉伸7: cut by cut_extrude_7_tool
    add(cut_extrude_7_tool.part, mode=Mode.SUBTRACT)


with BuildPart() as cut_extrude_8_tool:
    # 草图20 → 切除-拉伸8 (new body)
    with BuildSketch(Plane(origin=(0, 0, -1), x_dir=(-1, 0, 0), z_dir=(0, 0, -1))):
        with Locations((0, 15)):
            Circle(SKETCH_20_R)
        with Locations((-12.495190528, 7.214101615)):
            Circle(SKETCH_20_R)
        with Locations((12.495190528, 7.214101615)):
            Circle(SKETCH_20_R)
        with Locations((-12.495190528, -7.214101615)):
            Circle(SKETCH_20_R)
        with Locations((12.495190528, -7.214101615)):
            Circle(SKETCH_20_R)
        with Locations((0, -15)):
            Circle(SKETCH_20_R)
    extrude(amount=-CUT_EXTRUDE_8_DEPTH)


with BuildPart() as part_3:
    add(part_2.part)

    # 切除-拉伸8: cut by cut_extrude_8_tool
    add(cut_extrude_8_tool.part, mode=Mode.SUBTRACT)


with BuildPart() as body_6_3:
    add(body_6_2.part)

    # 切除-拉伸8: cut by cut_extrude_8_tool
    add(cut_extrude_8_tool.part, mode=Mode.SUBTRACT)


with BuildPart() as body_7_1:
    add(body_7.part)

    # 切除-拉伸8: cut by cut_extrude_8_tool
    add(cut_extrude_8_tool.part, mode=Mode.SUBTRACT)


with BuildPart() as body_8_1:
    add(body_8.part)

    # 切除-拉伸8: cut by cut_extrude_8_tool
    add(cut_extrude_8_tool.part, mode=Mode.SUBTRACT)


with BuildPart() as body_10_3:
    add(body_10_2.part)

    # 切除-拉伸8: cut by cut_extrude_8_tool
    add(cut_extrude_8_tool.part, mode=Mode.SUBTRACT)


solid = Compound([body_5_1.part, body_2_1.part, body_3_1.part, body_4_2.part, body_9_2.part, part_3.part, body_6_3.part, body_7_1.part, body_8_1.part, body_10_3.part])
